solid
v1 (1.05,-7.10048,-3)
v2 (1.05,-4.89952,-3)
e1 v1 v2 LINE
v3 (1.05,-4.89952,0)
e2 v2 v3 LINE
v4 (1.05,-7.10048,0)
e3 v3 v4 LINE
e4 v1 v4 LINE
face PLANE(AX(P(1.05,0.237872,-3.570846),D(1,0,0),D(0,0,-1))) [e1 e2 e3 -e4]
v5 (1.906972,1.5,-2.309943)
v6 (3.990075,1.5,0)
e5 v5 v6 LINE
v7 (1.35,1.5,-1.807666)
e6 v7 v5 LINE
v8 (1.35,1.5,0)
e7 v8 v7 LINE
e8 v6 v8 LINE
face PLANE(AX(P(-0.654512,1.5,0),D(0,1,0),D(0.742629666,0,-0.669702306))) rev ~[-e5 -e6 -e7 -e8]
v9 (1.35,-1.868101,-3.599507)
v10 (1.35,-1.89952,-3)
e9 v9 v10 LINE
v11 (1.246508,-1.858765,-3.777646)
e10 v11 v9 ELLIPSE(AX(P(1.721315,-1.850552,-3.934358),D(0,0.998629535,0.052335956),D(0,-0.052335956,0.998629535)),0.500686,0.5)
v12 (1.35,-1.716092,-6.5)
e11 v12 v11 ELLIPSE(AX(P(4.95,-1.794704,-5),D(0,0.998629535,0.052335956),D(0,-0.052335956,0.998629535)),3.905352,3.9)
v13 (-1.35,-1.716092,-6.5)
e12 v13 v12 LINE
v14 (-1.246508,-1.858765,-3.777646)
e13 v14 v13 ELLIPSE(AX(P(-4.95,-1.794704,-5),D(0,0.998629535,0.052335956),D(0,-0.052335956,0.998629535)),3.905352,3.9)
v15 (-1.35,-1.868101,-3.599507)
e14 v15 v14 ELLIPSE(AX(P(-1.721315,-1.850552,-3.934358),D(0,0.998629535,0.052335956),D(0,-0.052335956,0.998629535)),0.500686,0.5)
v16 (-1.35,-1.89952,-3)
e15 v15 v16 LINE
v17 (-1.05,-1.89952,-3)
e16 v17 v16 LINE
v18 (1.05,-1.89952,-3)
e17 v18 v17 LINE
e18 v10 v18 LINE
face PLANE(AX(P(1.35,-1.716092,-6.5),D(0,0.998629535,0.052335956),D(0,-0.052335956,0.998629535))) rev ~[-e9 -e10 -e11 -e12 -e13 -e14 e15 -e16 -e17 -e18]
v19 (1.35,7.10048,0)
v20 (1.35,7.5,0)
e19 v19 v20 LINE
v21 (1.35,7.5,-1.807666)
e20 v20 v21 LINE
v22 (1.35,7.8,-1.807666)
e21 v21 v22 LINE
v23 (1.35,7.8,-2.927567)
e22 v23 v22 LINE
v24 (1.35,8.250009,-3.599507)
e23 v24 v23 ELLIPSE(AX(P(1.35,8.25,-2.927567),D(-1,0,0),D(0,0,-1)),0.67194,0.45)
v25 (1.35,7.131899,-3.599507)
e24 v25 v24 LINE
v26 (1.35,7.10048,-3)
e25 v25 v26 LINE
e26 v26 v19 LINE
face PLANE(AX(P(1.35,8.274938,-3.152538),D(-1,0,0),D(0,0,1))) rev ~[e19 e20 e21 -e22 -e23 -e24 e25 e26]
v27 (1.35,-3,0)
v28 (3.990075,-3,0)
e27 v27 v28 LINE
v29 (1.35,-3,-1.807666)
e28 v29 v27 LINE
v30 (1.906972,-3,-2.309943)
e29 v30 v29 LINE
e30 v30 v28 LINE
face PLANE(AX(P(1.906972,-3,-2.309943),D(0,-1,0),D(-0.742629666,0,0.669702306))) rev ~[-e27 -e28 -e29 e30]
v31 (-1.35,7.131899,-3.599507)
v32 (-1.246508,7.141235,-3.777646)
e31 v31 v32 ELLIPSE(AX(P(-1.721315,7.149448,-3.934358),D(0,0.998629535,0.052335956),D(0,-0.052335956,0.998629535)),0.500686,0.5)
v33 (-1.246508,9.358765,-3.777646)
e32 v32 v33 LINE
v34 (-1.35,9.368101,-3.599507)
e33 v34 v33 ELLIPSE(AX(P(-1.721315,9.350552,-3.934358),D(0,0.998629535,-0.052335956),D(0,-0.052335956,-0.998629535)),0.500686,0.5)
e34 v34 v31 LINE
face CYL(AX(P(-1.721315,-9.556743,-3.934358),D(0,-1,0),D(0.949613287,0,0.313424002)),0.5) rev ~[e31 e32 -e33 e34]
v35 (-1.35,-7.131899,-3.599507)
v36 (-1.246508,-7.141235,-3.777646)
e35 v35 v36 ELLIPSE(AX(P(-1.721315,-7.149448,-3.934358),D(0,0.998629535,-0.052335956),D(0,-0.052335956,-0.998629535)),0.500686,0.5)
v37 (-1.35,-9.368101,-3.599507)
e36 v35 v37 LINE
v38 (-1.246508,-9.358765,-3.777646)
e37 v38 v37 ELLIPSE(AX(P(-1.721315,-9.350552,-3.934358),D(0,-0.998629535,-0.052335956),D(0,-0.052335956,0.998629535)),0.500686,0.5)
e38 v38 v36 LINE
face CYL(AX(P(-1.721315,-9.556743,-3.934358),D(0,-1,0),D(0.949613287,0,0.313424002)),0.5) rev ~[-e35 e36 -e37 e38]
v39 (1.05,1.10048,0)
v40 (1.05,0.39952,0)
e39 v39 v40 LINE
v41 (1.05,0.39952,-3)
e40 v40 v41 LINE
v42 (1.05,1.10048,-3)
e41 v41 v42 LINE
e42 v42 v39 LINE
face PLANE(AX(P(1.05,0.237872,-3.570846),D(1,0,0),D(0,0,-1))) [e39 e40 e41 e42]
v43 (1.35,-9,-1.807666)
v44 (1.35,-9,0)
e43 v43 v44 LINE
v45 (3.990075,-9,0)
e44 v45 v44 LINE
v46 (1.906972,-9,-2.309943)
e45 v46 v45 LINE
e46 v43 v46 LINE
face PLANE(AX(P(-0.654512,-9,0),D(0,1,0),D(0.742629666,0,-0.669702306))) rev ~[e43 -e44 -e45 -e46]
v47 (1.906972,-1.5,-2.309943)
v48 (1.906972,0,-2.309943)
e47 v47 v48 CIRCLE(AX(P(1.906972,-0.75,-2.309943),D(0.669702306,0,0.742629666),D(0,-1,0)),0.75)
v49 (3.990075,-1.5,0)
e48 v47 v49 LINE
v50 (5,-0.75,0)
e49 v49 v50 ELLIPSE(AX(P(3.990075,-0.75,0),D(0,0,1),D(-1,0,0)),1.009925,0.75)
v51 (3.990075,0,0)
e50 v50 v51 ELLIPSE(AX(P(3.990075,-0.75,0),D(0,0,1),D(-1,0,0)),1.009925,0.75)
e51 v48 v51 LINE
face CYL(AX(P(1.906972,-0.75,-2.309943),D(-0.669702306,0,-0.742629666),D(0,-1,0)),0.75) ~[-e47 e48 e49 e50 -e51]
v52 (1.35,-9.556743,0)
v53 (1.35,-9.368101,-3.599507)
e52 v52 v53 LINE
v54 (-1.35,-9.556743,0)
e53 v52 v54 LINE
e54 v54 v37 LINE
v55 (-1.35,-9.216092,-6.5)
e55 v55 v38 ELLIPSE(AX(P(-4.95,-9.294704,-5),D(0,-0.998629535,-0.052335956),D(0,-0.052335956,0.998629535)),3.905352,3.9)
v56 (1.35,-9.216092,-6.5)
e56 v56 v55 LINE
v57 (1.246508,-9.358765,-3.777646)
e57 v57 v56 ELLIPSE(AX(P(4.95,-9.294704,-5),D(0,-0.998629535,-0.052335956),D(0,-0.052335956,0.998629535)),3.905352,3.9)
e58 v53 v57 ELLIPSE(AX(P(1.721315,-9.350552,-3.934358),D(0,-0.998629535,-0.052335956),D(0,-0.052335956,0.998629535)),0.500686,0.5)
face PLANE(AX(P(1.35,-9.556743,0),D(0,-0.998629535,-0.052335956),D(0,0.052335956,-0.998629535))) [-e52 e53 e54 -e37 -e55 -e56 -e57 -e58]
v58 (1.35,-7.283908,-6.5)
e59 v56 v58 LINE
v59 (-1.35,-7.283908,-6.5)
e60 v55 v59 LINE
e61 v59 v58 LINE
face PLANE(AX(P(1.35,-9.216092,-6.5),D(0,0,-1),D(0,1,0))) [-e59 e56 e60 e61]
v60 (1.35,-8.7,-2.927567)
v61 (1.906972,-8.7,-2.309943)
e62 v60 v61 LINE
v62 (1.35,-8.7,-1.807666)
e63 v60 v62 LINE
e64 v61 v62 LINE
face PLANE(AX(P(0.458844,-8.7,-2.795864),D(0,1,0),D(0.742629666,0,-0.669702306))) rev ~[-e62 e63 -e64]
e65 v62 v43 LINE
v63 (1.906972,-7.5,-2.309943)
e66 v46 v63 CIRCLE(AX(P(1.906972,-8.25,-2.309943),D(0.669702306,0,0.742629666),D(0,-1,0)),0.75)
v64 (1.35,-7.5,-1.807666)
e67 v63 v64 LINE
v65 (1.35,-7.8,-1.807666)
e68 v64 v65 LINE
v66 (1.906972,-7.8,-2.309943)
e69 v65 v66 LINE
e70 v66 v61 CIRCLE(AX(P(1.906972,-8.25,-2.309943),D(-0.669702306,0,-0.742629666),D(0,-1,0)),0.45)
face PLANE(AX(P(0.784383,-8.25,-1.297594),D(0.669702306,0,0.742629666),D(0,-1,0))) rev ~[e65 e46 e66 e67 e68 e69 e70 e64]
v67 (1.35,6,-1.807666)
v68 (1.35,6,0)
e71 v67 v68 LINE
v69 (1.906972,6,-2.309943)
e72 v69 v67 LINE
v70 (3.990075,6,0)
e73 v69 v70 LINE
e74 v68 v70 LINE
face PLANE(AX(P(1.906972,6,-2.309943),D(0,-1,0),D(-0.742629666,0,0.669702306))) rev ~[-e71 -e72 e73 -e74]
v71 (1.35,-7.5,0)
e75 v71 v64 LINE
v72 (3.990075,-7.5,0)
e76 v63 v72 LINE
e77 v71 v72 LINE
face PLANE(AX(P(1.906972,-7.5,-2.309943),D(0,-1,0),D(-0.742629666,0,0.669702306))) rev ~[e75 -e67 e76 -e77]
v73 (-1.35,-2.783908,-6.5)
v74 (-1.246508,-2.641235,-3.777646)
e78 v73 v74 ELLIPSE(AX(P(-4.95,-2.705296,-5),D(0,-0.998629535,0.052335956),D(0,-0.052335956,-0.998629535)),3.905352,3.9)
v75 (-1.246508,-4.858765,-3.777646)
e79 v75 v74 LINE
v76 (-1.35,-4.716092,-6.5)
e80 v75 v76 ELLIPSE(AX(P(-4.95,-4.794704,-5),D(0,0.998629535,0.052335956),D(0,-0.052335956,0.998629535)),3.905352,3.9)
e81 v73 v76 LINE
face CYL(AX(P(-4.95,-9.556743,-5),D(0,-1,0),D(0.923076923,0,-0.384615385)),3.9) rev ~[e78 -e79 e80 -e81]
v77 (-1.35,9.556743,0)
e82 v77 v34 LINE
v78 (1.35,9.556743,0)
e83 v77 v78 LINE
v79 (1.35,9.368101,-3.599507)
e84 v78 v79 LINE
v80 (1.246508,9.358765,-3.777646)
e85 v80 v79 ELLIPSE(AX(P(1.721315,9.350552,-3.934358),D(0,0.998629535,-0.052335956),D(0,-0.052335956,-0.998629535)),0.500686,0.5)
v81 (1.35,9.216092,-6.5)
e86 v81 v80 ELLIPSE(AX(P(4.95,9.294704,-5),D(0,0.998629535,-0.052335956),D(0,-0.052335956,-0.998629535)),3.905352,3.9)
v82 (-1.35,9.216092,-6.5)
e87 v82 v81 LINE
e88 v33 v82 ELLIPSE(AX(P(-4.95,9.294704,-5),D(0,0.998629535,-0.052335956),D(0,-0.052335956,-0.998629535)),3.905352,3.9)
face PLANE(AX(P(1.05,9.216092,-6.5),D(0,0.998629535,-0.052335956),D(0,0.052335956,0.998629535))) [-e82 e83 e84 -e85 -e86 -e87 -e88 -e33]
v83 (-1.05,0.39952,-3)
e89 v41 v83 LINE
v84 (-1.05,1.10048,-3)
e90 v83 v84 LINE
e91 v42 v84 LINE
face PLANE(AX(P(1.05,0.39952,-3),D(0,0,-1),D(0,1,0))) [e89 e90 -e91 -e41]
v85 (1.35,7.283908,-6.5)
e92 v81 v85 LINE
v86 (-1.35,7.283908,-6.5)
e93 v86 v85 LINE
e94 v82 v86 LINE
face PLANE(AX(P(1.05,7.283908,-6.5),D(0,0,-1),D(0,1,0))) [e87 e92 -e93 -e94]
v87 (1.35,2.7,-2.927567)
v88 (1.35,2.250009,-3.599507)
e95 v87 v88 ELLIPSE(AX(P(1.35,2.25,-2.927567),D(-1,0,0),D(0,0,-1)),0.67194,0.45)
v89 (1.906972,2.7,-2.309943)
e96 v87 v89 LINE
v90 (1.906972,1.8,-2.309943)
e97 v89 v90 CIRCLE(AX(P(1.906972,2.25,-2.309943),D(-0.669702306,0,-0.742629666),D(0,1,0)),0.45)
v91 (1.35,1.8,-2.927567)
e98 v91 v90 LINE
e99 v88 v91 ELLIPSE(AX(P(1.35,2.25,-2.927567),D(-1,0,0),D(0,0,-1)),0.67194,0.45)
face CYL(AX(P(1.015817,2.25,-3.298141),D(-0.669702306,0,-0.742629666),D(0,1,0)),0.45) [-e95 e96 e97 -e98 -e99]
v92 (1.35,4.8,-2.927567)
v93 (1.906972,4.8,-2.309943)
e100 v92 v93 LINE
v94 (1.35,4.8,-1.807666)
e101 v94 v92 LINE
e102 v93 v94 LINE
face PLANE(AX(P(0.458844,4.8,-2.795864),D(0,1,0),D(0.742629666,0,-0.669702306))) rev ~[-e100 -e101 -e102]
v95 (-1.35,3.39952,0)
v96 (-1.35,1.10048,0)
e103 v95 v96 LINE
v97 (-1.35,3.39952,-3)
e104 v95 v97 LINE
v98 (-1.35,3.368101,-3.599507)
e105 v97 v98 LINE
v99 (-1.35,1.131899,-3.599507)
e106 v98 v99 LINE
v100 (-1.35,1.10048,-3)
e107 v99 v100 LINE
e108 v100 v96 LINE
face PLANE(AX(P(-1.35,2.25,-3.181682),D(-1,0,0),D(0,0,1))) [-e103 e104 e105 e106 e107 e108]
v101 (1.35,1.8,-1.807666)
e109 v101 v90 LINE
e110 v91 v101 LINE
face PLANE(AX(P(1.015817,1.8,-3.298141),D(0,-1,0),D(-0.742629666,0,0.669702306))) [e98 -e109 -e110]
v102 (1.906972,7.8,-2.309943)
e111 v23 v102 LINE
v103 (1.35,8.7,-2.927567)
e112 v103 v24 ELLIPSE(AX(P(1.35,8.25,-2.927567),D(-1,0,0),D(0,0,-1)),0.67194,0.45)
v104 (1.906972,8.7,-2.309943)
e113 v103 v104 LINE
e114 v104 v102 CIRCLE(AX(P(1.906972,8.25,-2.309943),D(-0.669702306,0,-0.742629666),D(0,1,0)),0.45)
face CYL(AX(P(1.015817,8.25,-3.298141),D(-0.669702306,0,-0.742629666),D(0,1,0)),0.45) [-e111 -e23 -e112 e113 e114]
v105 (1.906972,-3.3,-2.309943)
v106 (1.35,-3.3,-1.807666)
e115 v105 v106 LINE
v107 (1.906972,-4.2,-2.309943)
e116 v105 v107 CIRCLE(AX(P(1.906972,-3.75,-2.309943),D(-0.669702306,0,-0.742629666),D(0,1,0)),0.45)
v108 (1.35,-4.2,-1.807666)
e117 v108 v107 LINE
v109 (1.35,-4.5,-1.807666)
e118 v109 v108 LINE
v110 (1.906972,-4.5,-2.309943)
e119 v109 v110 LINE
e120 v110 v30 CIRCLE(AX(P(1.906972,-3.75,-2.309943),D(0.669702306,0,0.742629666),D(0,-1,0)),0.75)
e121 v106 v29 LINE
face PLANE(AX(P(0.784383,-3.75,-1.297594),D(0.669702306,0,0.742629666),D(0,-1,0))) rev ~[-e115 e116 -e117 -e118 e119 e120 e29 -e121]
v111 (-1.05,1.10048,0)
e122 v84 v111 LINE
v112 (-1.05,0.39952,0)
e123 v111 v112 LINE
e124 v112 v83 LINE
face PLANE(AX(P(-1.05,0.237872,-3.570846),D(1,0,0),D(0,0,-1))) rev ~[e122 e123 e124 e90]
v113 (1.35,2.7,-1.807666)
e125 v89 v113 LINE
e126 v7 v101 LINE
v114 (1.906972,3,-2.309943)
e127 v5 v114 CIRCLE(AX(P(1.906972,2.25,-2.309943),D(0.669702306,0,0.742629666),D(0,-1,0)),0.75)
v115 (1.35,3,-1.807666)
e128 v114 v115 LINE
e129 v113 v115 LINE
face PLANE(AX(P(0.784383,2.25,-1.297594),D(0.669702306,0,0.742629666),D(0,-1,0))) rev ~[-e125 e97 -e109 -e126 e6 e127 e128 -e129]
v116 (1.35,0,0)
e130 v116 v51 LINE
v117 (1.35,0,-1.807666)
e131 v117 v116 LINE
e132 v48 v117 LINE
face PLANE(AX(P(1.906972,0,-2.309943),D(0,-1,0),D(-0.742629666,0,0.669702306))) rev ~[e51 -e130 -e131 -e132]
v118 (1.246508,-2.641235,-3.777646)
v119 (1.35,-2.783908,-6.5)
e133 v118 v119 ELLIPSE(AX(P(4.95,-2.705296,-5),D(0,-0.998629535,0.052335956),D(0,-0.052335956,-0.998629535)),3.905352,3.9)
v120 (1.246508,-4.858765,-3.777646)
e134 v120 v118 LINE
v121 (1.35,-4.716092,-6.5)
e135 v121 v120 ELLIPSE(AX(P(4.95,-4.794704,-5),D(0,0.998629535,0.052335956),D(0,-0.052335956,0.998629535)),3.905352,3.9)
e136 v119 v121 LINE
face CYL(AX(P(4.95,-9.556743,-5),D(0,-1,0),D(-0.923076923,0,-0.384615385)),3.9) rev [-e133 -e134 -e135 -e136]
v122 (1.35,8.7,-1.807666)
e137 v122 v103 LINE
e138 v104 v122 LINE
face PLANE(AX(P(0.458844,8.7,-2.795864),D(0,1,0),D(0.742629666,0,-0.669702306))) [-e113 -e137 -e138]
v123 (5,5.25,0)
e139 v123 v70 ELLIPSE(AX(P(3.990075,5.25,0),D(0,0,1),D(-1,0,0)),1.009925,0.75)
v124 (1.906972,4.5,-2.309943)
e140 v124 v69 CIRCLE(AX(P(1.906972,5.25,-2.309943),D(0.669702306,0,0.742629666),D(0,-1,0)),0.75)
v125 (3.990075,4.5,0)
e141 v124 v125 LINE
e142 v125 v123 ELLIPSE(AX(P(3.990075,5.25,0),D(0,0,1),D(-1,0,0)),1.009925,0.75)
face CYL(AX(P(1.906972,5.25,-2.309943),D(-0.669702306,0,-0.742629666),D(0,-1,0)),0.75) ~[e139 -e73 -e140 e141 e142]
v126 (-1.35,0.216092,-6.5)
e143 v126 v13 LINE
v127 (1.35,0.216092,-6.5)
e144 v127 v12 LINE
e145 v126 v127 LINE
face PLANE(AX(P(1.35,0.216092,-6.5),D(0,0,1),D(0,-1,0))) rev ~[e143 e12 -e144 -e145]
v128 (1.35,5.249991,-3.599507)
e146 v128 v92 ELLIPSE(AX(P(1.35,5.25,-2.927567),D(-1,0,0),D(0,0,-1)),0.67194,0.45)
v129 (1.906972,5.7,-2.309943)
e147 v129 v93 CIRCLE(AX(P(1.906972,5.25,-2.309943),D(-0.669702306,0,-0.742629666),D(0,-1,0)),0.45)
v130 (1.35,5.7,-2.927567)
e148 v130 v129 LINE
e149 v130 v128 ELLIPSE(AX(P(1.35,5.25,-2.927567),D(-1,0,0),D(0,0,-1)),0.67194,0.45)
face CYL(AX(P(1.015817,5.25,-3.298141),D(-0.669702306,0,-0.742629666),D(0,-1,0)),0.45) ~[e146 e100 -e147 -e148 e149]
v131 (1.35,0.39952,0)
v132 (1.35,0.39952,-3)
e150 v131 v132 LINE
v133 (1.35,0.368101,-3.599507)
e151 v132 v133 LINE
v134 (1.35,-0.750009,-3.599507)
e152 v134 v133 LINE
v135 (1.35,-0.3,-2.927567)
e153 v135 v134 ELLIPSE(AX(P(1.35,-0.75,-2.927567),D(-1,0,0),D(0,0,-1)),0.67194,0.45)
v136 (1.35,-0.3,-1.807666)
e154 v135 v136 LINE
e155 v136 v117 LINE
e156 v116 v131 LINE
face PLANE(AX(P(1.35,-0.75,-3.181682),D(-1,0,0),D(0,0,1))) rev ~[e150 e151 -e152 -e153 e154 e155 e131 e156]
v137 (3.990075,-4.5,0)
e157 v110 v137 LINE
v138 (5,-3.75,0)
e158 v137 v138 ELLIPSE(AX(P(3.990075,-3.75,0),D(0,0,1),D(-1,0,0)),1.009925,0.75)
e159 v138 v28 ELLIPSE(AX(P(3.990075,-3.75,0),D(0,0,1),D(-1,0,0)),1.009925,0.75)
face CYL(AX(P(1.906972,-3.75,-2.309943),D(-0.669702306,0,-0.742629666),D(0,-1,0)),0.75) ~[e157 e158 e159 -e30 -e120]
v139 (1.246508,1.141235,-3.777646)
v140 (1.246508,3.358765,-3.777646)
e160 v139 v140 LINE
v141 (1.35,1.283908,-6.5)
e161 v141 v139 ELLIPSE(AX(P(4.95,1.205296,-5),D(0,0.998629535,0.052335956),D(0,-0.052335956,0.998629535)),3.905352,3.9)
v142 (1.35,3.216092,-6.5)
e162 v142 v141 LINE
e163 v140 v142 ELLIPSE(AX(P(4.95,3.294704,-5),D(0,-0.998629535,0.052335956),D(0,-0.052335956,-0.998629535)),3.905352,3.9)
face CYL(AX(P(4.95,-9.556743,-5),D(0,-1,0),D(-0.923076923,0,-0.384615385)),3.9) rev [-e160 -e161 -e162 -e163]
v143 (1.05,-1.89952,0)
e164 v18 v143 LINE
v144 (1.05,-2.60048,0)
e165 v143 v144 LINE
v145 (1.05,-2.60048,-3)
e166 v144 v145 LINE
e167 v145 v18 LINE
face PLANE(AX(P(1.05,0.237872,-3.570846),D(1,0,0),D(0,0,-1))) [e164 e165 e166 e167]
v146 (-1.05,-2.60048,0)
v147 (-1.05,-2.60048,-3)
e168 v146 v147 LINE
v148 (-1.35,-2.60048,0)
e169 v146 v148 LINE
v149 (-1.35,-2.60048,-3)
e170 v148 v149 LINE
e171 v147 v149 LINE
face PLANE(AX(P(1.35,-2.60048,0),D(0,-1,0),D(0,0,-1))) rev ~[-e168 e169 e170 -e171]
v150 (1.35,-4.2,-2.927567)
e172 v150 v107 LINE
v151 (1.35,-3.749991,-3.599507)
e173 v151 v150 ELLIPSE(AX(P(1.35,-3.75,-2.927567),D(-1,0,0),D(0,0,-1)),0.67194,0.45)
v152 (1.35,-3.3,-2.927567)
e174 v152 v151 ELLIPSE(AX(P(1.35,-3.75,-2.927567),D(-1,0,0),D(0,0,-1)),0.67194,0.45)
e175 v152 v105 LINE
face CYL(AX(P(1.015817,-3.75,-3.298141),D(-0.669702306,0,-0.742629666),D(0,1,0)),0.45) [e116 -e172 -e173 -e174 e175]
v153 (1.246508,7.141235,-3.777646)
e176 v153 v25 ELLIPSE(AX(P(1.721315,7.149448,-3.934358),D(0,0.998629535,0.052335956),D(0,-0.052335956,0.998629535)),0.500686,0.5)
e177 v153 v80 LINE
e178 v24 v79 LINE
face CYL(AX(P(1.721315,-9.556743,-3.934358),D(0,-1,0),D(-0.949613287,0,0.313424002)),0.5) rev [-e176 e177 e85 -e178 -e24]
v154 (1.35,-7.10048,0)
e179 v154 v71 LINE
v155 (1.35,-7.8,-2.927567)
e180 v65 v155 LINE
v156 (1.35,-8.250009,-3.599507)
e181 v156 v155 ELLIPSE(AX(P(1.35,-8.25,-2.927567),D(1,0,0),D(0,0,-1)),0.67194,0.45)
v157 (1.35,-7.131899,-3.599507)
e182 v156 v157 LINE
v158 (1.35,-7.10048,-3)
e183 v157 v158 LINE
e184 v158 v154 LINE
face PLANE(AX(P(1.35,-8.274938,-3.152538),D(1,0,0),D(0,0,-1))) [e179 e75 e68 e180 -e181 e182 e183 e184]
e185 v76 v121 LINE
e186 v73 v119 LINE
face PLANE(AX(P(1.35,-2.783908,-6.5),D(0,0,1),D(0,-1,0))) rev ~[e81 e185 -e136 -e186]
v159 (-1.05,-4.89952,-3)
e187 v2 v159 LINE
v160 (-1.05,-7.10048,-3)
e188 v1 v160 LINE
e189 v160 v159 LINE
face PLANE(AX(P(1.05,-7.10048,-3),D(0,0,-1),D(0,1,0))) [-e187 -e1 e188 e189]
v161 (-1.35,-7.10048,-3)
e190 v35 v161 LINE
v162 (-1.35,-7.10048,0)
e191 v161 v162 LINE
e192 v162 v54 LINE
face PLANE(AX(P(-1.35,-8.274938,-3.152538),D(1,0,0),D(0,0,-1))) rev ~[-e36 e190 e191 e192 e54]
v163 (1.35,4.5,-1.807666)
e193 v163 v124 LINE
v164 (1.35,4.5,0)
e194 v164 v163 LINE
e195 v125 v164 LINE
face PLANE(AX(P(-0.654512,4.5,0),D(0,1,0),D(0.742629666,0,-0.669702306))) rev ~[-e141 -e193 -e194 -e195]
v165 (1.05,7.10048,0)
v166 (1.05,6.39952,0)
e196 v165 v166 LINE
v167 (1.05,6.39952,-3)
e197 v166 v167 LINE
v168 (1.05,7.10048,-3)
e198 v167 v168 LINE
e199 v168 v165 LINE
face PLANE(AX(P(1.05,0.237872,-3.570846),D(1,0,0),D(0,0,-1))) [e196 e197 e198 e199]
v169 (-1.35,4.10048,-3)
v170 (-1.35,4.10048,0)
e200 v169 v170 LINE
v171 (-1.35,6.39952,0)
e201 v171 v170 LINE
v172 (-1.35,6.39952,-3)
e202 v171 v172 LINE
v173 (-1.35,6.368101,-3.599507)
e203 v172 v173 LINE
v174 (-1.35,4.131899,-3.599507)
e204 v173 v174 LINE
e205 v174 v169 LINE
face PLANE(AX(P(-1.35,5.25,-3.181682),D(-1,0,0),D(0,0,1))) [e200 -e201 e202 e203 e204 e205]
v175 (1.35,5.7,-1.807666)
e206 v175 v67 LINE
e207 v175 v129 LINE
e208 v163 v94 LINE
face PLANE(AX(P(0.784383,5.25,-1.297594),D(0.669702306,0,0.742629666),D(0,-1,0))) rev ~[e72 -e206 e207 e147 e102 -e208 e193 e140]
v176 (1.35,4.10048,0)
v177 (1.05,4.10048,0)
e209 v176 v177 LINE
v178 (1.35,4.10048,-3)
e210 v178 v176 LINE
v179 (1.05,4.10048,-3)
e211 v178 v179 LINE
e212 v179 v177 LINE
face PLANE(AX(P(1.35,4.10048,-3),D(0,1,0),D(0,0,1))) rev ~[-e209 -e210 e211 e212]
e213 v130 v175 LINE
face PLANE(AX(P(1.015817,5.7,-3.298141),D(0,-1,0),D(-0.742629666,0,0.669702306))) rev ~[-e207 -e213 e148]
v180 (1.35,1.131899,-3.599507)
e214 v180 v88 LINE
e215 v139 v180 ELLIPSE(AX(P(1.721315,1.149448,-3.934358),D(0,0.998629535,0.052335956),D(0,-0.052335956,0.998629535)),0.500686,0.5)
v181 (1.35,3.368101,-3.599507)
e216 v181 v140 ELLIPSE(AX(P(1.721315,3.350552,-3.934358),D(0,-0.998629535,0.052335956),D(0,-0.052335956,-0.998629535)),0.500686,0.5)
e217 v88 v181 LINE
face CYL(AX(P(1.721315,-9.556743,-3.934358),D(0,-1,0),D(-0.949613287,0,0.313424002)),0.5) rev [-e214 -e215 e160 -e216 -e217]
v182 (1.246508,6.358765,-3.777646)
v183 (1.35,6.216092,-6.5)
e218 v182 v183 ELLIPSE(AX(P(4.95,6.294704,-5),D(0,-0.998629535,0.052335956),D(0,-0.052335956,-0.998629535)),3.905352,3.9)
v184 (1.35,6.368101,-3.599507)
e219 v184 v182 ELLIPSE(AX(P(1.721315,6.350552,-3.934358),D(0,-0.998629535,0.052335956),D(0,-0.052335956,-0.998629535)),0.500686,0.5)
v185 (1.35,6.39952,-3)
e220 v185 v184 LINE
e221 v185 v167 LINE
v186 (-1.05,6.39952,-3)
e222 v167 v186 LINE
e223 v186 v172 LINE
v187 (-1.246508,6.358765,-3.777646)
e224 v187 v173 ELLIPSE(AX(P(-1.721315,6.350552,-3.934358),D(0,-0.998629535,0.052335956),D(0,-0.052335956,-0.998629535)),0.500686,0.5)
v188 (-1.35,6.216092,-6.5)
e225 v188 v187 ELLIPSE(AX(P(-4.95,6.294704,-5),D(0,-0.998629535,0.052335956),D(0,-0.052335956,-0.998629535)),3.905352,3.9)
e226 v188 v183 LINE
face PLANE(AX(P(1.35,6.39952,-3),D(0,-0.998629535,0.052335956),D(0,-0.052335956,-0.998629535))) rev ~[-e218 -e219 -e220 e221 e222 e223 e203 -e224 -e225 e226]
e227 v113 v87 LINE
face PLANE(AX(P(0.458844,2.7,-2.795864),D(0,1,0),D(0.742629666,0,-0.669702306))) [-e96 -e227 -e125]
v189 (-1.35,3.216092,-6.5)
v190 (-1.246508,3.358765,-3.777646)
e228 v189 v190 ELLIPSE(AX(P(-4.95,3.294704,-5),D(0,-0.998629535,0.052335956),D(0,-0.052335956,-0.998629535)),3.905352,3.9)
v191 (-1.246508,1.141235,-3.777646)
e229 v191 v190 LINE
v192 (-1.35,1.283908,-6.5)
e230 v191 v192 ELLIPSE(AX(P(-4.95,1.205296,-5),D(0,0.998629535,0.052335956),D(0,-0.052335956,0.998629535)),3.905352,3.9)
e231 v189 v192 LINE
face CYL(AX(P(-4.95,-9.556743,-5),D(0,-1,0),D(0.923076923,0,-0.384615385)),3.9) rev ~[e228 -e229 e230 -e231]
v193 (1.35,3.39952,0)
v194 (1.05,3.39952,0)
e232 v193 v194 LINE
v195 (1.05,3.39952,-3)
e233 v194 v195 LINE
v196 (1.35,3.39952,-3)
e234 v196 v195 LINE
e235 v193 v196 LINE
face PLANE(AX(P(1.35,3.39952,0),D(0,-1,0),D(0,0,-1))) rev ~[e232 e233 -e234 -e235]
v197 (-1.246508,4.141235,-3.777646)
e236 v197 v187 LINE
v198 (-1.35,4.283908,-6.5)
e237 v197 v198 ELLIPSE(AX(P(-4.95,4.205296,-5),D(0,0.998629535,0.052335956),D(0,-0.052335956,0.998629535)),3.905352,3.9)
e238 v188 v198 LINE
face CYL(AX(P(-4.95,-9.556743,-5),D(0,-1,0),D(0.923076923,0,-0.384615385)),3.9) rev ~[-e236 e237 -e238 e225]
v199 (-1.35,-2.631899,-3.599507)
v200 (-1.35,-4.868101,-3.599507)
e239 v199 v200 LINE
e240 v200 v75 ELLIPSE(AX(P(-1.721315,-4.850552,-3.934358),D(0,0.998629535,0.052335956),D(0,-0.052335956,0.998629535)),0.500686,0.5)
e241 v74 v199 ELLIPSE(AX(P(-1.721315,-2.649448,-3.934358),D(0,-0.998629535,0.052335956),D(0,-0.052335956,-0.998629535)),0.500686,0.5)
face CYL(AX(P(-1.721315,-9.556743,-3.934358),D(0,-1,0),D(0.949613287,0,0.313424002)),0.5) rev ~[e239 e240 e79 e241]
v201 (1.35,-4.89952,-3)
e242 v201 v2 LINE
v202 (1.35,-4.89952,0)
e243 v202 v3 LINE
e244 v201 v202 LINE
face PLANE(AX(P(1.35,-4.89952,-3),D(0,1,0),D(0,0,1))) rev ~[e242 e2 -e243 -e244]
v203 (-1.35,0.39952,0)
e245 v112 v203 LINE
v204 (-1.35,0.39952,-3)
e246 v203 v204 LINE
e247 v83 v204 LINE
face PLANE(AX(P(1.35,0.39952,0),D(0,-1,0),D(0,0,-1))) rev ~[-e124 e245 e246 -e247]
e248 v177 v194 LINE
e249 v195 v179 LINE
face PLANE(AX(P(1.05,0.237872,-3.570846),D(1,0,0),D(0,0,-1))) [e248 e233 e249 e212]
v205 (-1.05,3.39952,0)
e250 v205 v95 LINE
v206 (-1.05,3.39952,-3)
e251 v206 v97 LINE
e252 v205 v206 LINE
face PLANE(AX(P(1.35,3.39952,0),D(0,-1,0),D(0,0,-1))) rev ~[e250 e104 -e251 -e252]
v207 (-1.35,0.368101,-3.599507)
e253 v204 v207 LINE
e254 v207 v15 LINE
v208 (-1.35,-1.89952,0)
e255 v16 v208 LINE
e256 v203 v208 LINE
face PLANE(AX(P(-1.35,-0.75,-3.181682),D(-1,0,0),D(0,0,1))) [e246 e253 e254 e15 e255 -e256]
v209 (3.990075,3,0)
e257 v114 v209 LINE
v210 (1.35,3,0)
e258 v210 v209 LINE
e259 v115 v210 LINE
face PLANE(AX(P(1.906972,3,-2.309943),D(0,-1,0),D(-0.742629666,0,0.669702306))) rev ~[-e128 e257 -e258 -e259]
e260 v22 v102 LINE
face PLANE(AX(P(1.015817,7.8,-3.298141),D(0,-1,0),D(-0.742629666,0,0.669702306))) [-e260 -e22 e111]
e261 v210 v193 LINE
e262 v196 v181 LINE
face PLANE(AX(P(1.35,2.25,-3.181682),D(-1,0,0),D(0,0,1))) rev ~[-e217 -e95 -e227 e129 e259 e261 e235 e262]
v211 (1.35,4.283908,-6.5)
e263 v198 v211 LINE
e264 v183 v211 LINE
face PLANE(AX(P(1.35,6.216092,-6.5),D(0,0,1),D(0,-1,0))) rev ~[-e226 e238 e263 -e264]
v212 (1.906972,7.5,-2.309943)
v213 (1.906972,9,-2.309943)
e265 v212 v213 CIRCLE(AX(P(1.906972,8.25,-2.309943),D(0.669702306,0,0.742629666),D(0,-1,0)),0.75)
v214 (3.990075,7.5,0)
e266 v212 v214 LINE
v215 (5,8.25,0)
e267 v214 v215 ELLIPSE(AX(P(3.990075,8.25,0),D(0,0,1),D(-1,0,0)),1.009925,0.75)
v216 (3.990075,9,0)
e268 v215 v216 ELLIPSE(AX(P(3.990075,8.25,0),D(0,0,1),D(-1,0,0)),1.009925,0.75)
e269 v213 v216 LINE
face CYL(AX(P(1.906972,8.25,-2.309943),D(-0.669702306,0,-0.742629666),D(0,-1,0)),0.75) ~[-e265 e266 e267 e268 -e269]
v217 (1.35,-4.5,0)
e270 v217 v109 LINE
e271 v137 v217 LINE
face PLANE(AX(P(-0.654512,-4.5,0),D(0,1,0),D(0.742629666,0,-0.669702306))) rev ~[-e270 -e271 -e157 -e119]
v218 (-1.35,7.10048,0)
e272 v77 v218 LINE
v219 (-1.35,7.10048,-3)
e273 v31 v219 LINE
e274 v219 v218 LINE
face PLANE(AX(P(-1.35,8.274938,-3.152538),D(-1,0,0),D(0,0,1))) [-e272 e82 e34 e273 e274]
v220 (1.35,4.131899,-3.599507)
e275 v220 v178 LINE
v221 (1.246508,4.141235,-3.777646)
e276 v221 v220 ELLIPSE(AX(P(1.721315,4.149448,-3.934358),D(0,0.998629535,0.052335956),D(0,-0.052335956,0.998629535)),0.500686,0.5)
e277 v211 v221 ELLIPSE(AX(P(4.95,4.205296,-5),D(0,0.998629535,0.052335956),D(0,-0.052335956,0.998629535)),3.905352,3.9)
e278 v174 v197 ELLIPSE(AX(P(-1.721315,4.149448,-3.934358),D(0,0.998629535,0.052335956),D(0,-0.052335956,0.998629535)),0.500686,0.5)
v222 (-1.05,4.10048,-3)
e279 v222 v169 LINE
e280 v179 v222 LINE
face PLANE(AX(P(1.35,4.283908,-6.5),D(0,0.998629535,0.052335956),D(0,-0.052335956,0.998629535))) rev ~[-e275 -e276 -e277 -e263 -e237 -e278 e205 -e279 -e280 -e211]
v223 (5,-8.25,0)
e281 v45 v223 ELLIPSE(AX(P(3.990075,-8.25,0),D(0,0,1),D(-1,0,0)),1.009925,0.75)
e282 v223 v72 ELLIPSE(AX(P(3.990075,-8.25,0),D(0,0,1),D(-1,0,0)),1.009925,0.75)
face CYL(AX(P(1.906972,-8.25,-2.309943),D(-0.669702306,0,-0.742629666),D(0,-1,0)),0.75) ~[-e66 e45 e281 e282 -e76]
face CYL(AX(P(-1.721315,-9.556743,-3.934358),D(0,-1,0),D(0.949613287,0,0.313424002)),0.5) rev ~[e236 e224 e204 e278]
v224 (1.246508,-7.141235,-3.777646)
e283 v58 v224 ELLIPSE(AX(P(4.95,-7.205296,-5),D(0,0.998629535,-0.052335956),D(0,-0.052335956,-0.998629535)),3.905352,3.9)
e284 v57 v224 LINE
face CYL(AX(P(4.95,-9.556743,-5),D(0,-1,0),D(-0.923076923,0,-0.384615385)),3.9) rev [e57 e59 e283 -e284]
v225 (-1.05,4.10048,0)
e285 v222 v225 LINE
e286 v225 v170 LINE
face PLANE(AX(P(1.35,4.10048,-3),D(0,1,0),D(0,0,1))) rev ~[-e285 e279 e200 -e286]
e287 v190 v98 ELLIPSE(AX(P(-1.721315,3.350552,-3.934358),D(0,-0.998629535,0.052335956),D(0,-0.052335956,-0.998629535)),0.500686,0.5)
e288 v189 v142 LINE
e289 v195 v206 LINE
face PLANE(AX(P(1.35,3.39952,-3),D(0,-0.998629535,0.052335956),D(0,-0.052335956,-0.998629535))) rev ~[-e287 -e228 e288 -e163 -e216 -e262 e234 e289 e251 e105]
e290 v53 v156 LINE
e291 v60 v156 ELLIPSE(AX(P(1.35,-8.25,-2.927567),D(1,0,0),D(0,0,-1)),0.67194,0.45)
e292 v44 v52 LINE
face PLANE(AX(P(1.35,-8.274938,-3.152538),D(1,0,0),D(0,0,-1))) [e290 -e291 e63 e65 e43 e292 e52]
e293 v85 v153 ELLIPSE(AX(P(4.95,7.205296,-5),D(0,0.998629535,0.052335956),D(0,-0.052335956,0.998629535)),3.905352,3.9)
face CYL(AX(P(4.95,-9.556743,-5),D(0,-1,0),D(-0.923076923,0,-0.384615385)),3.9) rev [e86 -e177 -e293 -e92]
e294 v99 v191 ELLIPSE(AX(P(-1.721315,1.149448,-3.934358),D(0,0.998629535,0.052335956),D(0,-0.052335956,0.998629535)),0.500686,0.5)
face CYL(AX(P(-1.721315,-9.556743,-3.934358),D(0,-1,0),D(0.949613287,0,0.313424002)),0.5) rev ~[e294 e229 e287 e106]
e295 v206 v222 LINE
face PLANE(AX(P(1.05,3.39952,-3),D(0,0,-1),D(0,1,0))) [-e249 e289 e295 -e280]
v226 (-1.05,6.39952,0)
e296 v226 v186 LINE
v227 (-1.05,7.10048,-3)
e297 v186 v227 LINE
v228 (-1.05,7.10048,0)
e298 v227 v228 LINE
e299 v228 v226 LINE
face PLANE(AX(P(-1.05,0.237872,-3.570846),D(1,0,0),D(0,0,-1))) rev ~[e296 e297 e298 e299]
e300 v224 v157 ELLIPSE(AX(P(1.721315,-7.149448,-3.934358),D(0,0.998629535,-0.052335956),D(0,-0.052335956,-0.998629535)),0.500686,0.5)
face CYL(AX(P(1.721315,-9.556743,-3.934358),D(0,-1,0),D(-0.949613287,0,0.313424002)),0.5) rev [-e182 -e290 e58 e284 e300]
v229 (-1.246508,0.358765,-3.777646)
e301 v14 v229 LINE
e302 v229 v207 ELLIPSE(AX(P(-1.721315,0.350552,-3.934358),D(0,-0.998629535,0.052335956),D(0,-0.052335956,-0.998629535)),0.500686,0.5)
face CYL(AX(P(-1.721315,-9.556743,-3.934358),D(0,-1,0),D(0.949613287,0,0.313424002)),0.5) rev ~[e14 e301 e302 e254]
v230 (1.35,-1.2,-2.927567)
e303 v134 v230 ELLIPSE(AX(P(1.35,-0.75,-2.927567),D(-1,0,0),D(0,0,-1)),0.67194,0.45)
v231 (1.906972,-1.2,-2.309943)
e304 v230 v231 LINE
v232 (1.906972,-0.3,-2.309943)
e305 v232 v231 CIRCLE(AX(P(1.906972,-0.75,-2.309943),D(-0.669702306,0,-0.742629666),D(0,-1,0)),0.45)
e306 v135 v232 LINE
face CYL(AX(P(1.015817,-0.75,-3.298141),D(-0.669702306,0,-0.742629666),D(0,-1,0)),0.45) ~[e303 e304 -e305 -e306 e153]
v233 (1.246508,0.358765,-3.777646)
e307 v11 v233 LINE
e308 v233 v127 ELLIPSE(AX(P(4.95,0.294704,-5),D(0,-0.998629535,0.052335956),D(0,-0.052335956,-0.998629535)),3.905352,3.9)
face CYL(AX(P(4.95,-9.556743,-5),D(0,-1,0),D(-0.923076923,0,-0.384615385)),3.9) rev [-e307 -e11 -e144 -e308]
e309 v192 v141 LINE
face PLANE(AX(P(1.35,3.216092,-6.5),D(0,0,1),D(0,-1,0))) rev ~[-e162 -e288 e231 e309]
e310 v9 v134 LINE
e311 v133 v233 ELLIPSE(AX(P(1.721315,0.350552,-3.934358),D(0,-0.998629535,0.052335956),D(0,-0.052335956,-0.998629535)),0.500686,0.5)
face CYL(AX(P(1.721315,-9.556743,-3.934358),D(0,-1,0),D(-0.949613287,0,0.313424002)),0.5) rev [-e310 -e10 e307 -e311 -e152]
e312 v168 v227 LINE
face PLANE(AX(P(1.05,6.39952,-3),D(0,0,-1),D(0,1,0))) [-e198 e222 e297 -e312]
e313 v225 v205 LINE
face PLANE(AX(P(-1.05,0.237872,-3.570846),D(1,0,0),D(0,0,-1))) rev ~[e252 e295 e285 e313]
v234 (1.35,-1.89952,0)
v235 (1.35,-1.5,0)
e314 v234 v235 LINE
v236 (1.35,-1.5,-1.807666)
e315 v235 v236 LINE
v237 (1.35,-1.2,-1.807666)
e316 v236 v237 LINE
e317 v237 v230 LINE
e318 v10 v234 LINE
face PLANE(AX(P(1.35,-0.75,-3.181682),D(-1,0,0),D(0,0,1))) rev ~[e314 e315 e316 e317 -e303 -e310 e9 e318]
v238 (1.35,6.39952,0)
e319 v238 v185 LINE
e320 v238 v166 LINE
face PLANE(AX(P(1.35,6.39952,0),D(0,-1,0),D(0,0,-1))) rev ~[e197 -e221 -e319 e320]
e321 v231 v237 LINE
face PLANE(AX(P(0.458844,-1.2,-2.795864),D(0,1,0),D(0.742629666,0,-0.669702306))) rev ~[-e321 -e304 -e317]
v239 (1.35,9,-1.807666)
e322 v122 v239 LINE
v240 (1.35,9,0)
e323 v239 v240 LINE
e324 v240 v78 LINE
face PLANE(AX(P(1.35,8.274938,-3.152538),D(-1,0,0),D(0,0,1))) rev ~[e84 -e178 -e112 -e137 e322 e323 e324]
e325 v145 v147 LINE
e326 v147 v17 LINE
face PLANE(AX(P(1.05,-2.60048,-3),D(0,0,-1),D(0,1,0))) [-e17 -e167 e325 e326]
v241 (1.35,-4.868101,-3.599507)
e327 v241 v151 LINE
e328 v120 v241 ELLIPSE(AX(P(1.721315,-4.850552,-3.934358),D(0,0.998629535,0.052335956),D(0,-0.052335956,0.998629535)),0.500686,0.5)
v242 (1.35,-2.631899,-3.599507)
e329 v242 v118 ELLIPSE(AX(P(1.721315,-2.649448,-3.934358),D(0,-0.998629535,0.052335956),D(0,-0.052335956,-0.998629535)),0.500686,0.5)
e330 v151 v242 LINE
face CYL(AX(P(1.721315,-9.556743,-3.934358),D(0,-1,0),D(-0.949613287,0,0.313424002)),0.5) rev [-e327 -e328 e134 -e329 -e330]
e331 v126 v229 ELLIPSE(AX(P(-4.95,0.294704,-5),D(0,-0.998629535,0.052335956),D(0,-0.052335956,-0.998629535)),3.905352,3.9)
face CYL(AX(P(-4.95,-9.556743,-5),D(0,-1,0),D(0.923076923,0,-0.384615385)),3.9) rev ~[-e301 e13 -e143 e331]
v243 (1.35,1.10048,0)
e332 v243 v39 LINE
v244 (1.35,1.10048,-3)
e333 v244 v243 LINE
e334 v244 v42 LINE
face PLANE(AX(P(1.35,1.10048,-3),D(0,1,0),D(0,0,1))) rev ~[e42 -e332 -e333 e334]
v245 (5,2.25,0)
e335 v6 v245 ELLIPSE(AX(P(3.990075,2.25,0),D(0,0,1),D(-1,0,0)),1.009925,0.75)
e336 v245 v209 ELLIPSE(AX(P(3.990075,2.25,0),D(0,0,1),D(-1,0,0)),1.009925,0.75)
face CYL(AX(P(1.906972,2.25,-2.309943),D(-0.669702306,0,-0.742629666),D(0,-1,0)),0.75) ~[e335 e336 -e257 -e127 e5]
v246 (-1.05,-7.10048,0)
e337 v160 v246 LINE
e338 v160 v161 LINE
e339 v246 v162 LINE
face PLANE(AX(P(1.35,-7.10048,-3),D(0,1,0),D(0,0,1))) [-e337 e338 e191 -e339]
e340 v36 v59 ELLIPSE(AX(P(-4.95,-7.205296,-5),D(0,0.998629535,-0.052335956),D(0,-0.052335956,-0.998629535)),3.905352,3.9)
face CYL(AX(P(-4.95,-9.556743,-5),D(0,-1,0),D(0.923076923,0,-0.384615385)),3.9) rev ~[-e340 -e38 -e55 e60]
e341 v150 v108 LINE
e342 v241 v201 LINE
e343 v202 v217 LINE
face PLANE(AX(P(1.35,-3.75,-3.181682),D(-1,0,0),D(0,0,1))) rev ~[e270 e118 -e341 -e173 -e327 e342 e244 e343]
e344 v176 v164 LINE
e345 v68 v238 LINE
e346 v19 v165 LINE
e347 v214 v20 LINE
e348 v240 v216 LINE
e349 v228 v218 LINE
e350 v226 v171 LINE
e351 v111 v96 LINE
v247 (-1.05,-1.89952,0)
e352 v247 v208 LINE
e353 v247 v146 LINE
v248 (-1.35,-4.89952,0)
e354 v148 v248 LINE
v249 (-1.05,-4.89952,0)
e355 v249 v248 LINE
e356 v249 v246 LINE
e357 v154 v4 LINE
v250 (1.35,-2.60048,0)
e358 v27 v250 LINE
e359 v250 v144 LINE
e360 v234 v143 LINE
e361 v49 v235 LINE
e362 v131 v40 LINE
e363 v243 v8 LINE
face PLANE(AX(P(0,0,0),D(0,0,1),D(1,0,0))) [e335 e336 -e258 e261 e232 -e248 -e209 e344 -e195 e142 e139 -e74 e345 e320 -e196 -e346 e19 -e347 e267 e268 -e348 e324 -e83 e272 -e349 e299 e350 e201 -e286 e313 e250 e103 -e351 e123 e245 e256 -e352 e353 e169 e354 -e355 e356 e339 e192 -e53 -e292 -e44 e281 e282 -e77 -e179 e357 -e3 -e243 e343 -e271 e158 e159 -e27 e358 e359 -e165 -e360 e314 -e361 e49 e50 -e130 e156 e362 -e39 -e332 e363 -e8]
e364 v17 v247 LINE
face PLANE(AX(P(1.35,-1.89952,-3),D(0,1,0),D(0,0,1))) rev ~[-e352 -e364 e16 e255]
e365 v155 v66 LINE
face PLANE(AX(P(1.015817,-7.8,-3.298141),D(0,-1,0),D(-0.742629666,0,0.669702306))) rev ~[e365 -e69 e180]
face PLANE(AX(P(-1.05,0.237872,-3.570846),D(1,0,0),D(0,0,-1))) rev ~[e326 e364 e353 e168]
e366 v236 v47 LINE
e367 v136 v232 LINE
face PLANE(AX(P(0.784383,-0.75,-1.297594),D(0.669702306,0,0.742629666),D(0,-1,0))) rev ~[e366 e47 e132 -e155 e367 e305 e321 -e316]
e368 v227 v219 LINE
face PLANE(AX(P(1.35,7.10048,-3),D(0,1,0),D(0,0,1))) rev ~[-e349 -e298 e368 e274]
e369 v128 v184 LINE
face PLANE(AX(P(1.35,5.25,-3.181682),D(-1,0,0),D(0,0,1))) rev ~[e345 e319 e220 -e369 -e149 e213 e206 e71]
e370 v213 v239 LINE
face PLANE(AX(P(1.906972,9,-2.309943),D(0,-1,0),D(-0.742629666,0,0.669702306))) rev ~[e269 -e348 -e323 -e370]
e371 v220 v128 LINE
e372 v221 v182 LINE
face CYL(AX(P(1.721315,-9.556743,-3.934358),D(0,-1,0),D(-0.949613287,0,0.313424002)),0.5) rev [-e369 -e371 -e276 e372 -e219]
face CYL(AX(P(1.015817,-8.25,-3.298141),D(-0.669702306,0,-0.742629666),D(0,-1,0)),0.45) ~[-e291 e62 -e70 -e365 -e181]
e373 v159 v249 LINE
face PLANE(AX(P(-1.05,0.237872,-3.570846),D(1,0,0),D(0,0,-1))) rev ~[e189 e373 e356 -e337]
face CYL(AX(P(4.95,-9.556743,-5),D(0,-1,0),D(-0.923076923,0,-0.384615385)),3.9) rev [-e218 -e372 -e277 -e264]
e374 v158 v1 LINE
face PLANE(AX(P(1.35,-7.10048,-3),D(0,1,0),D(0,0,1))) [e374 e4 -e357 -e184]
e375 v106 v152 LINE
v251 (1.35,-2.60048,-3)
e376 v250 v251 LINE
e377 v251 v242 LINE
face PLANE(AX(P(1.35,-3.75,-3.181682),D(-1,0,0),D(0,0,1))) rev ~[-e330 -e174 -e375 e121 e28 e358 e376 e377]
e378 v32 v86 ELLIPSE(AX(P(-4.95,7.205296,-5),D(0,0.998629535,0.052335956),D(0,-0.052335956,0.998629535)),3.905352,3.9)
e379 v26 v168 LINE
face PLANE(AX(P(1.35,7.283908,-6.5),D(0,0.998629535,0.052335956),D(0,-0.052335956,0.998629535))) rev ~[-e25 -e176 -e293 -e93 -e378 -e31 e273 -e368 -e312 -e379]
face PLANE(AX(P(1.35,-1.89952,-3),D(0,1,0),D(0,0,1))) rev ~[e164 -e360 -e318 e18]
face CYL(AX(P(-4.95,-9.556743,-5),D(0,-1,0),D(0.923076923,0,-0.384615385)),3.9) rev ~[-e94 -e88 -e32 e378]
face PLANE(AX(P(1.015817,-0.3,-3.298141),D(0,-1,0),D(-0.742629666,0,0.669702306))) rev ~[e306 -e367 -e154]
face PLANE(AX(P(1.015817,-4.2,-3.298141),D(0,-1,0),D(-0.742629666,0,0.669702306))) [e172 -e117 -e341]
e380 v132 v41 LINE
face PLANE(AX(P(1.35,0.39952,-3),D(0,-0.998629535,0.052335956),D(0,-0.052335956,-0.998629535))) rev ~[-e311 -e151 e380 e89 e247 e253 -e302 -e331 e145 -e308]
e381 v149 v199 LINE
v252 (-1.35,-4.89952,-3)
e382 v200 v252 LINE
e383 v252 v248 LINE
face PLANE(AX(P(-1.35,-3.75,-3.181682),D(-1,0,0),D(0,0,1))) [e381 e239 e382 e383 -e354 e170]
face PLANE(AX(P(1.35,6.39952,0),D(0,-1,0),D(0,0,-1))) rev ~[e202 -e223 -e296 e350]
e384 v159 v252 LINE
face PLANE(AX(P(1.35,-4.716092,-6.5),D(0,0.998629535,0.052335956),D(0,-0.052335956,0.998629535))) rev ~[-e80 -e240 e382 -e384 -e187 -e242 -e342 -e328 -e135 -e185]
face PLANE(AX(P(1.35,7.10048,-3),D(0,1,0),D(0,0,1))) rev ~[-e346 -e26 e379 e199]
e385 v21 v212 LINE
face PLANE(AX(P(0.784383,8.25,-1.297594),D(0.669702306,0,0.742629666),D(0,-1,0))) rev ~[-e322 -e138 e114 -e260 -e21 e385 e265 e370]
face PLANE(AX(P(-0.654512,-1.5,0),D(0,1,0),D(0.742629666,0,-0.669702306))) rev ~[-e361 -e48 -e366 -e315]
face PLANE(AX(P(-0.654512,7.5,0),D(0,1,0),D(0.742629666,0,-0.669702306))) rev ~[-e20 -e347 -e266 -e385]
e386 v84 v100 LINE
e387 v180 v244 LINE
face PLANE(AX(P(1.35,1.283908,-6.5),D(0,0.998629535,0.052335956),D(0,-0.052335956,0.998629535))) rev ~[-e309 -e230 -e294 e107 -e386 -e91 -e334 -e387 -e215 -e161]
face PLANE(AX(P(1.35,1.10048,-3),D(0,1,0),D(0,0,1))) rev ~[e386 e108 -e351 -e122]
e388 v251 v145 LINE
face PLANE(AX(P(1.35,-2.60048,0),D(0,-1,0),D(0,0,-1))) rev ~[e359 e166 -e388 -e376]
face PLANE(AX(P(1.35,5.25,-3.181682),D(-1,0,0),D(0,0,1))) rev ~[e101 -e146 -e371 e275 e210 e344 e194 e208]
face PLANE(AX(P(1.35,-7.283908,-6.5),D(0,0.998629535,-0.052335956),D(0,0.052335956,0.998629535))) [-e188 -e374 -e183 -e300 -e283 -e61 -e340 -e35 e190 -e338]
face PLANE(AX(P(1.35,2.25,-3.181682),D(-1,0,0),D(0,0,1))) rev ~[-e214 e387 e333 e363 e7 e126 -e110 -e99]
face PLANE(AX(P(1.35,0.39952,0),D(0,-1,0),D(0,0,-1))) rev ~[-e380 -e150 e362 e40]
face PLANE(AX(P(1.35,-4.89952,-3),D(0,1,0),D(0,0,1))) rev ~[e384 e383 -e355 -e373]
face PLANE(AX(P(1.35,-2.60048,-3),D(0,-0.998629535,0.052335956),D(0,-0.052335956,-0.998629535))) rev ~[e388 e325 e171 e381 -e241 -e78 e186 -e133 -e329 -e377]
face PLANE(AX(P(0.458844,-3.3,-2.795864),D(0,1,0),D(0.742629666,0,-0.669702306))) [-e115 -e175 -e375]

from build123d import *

# Parameters (mm, degrees)
SKETCH1_W           = 15
SKETCH1_H           = 30
BOSS_EXTRUDE1_DEPTH = 7
CUT_EXTRUDE1_START  = -0.3
CUT_EXTRUDE1_DEPTH  = 2.1
CUT_EXTRUDE4_DEPTH  = 2.7
BOSS_EXTRUDE2_DEPTH = 24.556743
CUT_EXTRUDE2_DEPTH  = 27.627139608
CUT_EXTRUDE3_DEPTH  = 27.401285317
SKETCH13_W          = 10
SKETCH13_H          = 20
BOSS_EXTRUDE3_DEPTH = 7
SKETCH14_W          = 3.65
SKETCH14_H          = 19.113486034
CUT_EXTRUDE5_DEPTH  = 13.592908206


with BuildPart() as part:
    # Sketch1 → Boss-Extrude1 (new body)
    with BuildSketch(Plane.XY):
        Rectangle(SKETCH1_W, SKETCH1_H)
    extrude(amount=-BOSS_EXTRUDE1_DEPTH)

    # Sketch8 → Cut-Extrude1 (cut)
    with BuildSketch(Plane(origin=(1.35, 0, 0), x_dir=(0, 0, -1), z_dir=(1, 0, 0)).offset(CUT_EXTRUDE1_START)):
        Polygon((6.5, -4.716092451), (6.5, -2.783907549), (3, -2.600480321), (3, -1.899519679), (6.5, -1.716092451), (6.5, 0.216092451), (3, 0.399519679), (3, 1.100480321), (6.5, 1.283907549), (6.5, 3.216092451), (3, 3.399519679), (3, 4.100480321), (6.5, 4.283907549), (6.5, 6.216092451), (3, 6.399519679), (3, 7.100480321), (6.5, 7.283907549), (6.5, 9.216092451), (0, 9.556743017), (0, -9.556743017), (6.5, -9.216092451), (6.5, -7.283907549), (3, -7.100480321), (3, -4.899519679), align=None)
    extrude(amount=-CUT_EXTRUDE1_DEPTH, mode=Mode.SUBTRACT)

    # Sketch7 → Cut-Extrude4 (cut)
    with BuildSketch(Plane(origin=(1.35, 0, 0), x_dir=(0, 0, -1), z_dir=(1, 0, 0))):
        Polygon((3, 4.100480321), (0, 4.100480321), (0, 6.399519679), (3, 6.399519679), (6.5, 6.216092451), (6.5, 4.283907549), align=None)
        Polygon((3, 1.100480321), (0, 1.100480321), (0, 3.399519679), (3, 3.399519679), (6.5, 3.216092451), (6.5, 1.283907549), align=None)
        Polygon((3, -1.899519679), (0, -1.899519679), (0, 0.399519679), (3, 0.399519679), (6.5, 0.216092451), (6.5, -1.716092451), align=None)
        Polygon((3, -4.899519679), (0, -4.899519679), (0, -2.600480321), (3, -2.600480321), (6.5, -2.783907549), (6.5, -4.716092451), align=None)
        Polygon((3, -7.100480321), (0, -7.100480321), (0, -9.556743017), (6.5, -9.216092451), (6.5, -7.283907549), align=None)
        Polygon((3, 7.100480321), (0, 7.100480321), (0, 9.556743017), (6.5, 9.216092451), (6.5, 7.283907549), align=None)
    extrude(amount=-CUT_EXTRUDE4_DEPTH, mode=Mode.SUBTRACT)

    # Sketch10 → Boss-Extrude2 (add)
    with BuildSketch(Plane(origin=(0, -9.556743017, 0), x_dir=(1, 0, 0), z_dir=(0, 1, 0))):
        with BuildLine():
            Line((1.35, 3.599507213), (1.35, 6.5))
            ThreePointArc((1.35, 6.5), (1.052815056, 5.148153684), (1.246508191, 3.777646361))
            ThreePointArc((1.246508191, 3.777646361), (1.288979573, 3.683188656), (1.35, 3.599507213))
        make_face()
        with BuildLine():
            Line((-1.35, 3.599507213), (-1.35, 6.5))
            ThreePointArc((-1.35, 6.5), (-1.052815056, 5.148153684), (-1.246508191, 3.777646361))
            ThreePointArc((-1.246508191, 3.777646361), (-1.288979573, 3.683188656), (-1.35, 3.599507213))
        make_face()
    extrude(amount=BOSS_EXTRUDE2_DEPTH)

    # Sketch12 → Cut-Extrude2 (cut, through all)
    with BuildSketch(Plane(origin=(3.10411931, 9.156194078, -3.38952842), x_dir=(0, -1, 0), z_dir=(0.669702306213578, 0, 0.7426296661541438))):
        with BuildLine():
            Line((0.156194078, -1.612037756), (0.156194078, -5.06124645))
            Line((0.156194078, -5.06124645), (1.656194078, -5.06124645))
            Line((1.656194078, -5.06124645), (1.656194078, -1.612037756))
            ThreePointArc((1.656194078, -1.612037756), (0.906194078, -0.862037756), (0.156194078, -1.612037756))
        make_face()
        with BuildLine():
            Line((3.156194078, -1.612037756), (3.156194078, -5.06124645))
            Line((3.156194078, -5.06124645), (4.656194078, -5.06124645))
            Line((4.656194078, -5.06124645), (4.656194078, -1.612037756))
            ThreePointArc((4.656194078, -1.612037756), (3.906194078, -0.862037756), (3.156194078, -1.612037756))
        make_face()
        with BuildLine():
            Line((6.156194078, -1.612037756), (6.156194078, -5.06124645))
            Line((6.156194078, -5.06124645), (7.656194078, -5.06124645))
            Line((7.656194078, -5.06124645), (7.656194078, -1.612037756))
            ThreePointArc((7.656194078, -1.612037756), (6.906194078, -0.862037756), (6.156194078, -1.612037756))
        make_face()
        with BuildLine():
            Line((9.156194078, -1.612037756), (9.156194078, -5.06124645))
            Line((9.156194078, -5.06124645), (10.656194078, -5.06124645))
            Line((10.656194078, -5.06124645), (10.656194078, -1.612037756))
            ThreePointArc((10.656194078, -1.612037756), (9.906194078, -0.862037756), (9.156194078, -1.612037756))
        make_face()
        with BuildLine():
            Line((12.156194078, -1.612037756), (12.156194078, -5.06124645))
            Line((12.156194078, -5.06124645), (13.656194078, -5.06124645))
            Line((13.656194078, -5.06124645), (13.656194078, -1.612037756))
            ThreePointArc((13.656194078, -1.612037756), (12.906194078, -0.862037756), (12.156194078, -1.612037756))
        make_face()
        with BuildLine():
            Line((16.656194078, -1.612037756), (16.656194078, -5.06124645))
            Line((16.656194078, -5.06124645), (18.156194078, -5.06124645))
            Line((18.156194078, -5.06124645), (18.156194078, -1.612037756))
            ThreePointArc((18.156194078, -1.612037756), (17.406194078, -0.862037756), (16.656194078, -1.612037756))
        make_face()
    cut_extrude2 = extrude(amount=CUT_EXTRUDE2_DEPTH, mode=Mode.SUBTRACT)

    # Sketch11 → Cut-Extrude3 (cut, through all)
    with BuildSketch(Plane(origin=(2.212963711, 9.156194078, -4.377726578), x_dir=(0, -1, 0), z_dir=(0.6697023062135781, 0, 0.7426296661541438))):
        with BuildLine():
            Line((0.456194078, -2.362037756), (0.456194078, -1.612037756))
            ThreePointArc((0.456194078, -1.612037756), (0.906194078, -1.162037756), (1.356194078, -1.612037756))
            Line((1.356194078, -1.612037756), (1.356194078, -2.362037756))
            Line((1.356194078, -2.362037756), (0.456194078, -2.362037756))
        make_face()
        with BuildLine():
            Line((3.456194078, -1.612037756), (3.456194078, -2.362037756))
            Line((3.456194078, -2.362037756), (4.356194078, -2.362037756))
            Line((4.356194078, -2.362037756), (4.356194078, -1.612037756))
            ThreePointArc((4.356194078, -1.612037756), (3.906194078, -1.162037756), (3.456194078, -1.612037756))
        make_face()
        with BuildLine():
            Line((7.356194078, -1.612037756), (7.356194078, -2.362037756))
            Line((7.356194078, -2.362037756), (6.456194078, -2.362037756))
            Line((6.456194078, -2.362037756), (6.456194078, -1.612037756))
            ThreePointArc((6.456194078, -1.612037756), (6.906194078, -1.162037756), (7.356194078, -1.612037756))
        make_face()
        with BuildLine():
            Line((9.456194078, -1.612037756), (9.456194078, -2.362037756))
            Line((9.456194078, -2.362037756), (10.356194078, -2.362037756))
            Line((10.356194078, -2.362037756), (10.356194078, -1.612037756))
            ThreePointArc((10.356194078, -1.612037756), (9.906194078, -1.162037756), (9.456194078, -1.612037756))
        make_face()
        with BuildLine():
            Line((13.356194078, -1.612037756), (13.356194078, -2.362037756))
            Line((13.356194078, -2.362037756), (12.456194078, -2.362037756))
            Line((12.456194078, -2.362037756), (12.456194078, -1.612037756))
            ThreePointArc((12.456194078, -1.612037756), (12.906194078, -1.162037756), (13.356194078, -1.612037756))
        make_face()
        with BuildLine():
            Line((16.956194078, -1.612037756), (16.956194078, -2.362037756))
            Line((16.956194078, -2.362037756), (17.856194078, -2.362037756))
            Line((17.856194078, -2.362037756), (17.856194078, -1.612037756))
            ThreePointArc((17.856194078, -1.612037756), (17.406194078, -1.162037756), (16.956194078, -1.612037756))
        make_face()
    cut_extrude3 = extrude(amount=CUT_EXTRUDE3_DEPTH, mode=Mode.SUBTRACT)

    # Mirror1: Cut-Extrude2, Cut-Extrude3 across plane
    add(cut_extrude2.mirror(Plane(origin=(0, 0, 0), x_dir=(0, 0, 1), z_dir=(1, 0, 0))), mode=Mode.SUBTRACT)
    add(cut_extrude3.mirror(Plane(origin=(0, 0, 0), x_dir=(0, 0, 1), z_dir=(1, 0, 0))), mode=Mode.SUBTRACT)


with BuildPart() as body_2:
    # Sketch13 → Boss-Extrude3 (new body)
    with BuildSketch(Plane.XY):
        Rectangle(SKETCH13_W, SKETCH13_H)
    extrude(amount=-BOSS_EXTRUDE3_DEPTH)

    # Combine1: cut part
    add(part.part, mode=Mode.SUBTRACT)

    # Sketch14 → Cut-Extrude5 (cut, through all)
    with BuildSketch(Plane.XY):
        with Locations((-3.175, 0)):
            Rectangle(SKETCH14_W, SKETCH14_H)
    extrude(amount=-CUT_EXTRUDE5_DEPTH, mode=Mode.SUBTRACT)


solid = body_2.part
